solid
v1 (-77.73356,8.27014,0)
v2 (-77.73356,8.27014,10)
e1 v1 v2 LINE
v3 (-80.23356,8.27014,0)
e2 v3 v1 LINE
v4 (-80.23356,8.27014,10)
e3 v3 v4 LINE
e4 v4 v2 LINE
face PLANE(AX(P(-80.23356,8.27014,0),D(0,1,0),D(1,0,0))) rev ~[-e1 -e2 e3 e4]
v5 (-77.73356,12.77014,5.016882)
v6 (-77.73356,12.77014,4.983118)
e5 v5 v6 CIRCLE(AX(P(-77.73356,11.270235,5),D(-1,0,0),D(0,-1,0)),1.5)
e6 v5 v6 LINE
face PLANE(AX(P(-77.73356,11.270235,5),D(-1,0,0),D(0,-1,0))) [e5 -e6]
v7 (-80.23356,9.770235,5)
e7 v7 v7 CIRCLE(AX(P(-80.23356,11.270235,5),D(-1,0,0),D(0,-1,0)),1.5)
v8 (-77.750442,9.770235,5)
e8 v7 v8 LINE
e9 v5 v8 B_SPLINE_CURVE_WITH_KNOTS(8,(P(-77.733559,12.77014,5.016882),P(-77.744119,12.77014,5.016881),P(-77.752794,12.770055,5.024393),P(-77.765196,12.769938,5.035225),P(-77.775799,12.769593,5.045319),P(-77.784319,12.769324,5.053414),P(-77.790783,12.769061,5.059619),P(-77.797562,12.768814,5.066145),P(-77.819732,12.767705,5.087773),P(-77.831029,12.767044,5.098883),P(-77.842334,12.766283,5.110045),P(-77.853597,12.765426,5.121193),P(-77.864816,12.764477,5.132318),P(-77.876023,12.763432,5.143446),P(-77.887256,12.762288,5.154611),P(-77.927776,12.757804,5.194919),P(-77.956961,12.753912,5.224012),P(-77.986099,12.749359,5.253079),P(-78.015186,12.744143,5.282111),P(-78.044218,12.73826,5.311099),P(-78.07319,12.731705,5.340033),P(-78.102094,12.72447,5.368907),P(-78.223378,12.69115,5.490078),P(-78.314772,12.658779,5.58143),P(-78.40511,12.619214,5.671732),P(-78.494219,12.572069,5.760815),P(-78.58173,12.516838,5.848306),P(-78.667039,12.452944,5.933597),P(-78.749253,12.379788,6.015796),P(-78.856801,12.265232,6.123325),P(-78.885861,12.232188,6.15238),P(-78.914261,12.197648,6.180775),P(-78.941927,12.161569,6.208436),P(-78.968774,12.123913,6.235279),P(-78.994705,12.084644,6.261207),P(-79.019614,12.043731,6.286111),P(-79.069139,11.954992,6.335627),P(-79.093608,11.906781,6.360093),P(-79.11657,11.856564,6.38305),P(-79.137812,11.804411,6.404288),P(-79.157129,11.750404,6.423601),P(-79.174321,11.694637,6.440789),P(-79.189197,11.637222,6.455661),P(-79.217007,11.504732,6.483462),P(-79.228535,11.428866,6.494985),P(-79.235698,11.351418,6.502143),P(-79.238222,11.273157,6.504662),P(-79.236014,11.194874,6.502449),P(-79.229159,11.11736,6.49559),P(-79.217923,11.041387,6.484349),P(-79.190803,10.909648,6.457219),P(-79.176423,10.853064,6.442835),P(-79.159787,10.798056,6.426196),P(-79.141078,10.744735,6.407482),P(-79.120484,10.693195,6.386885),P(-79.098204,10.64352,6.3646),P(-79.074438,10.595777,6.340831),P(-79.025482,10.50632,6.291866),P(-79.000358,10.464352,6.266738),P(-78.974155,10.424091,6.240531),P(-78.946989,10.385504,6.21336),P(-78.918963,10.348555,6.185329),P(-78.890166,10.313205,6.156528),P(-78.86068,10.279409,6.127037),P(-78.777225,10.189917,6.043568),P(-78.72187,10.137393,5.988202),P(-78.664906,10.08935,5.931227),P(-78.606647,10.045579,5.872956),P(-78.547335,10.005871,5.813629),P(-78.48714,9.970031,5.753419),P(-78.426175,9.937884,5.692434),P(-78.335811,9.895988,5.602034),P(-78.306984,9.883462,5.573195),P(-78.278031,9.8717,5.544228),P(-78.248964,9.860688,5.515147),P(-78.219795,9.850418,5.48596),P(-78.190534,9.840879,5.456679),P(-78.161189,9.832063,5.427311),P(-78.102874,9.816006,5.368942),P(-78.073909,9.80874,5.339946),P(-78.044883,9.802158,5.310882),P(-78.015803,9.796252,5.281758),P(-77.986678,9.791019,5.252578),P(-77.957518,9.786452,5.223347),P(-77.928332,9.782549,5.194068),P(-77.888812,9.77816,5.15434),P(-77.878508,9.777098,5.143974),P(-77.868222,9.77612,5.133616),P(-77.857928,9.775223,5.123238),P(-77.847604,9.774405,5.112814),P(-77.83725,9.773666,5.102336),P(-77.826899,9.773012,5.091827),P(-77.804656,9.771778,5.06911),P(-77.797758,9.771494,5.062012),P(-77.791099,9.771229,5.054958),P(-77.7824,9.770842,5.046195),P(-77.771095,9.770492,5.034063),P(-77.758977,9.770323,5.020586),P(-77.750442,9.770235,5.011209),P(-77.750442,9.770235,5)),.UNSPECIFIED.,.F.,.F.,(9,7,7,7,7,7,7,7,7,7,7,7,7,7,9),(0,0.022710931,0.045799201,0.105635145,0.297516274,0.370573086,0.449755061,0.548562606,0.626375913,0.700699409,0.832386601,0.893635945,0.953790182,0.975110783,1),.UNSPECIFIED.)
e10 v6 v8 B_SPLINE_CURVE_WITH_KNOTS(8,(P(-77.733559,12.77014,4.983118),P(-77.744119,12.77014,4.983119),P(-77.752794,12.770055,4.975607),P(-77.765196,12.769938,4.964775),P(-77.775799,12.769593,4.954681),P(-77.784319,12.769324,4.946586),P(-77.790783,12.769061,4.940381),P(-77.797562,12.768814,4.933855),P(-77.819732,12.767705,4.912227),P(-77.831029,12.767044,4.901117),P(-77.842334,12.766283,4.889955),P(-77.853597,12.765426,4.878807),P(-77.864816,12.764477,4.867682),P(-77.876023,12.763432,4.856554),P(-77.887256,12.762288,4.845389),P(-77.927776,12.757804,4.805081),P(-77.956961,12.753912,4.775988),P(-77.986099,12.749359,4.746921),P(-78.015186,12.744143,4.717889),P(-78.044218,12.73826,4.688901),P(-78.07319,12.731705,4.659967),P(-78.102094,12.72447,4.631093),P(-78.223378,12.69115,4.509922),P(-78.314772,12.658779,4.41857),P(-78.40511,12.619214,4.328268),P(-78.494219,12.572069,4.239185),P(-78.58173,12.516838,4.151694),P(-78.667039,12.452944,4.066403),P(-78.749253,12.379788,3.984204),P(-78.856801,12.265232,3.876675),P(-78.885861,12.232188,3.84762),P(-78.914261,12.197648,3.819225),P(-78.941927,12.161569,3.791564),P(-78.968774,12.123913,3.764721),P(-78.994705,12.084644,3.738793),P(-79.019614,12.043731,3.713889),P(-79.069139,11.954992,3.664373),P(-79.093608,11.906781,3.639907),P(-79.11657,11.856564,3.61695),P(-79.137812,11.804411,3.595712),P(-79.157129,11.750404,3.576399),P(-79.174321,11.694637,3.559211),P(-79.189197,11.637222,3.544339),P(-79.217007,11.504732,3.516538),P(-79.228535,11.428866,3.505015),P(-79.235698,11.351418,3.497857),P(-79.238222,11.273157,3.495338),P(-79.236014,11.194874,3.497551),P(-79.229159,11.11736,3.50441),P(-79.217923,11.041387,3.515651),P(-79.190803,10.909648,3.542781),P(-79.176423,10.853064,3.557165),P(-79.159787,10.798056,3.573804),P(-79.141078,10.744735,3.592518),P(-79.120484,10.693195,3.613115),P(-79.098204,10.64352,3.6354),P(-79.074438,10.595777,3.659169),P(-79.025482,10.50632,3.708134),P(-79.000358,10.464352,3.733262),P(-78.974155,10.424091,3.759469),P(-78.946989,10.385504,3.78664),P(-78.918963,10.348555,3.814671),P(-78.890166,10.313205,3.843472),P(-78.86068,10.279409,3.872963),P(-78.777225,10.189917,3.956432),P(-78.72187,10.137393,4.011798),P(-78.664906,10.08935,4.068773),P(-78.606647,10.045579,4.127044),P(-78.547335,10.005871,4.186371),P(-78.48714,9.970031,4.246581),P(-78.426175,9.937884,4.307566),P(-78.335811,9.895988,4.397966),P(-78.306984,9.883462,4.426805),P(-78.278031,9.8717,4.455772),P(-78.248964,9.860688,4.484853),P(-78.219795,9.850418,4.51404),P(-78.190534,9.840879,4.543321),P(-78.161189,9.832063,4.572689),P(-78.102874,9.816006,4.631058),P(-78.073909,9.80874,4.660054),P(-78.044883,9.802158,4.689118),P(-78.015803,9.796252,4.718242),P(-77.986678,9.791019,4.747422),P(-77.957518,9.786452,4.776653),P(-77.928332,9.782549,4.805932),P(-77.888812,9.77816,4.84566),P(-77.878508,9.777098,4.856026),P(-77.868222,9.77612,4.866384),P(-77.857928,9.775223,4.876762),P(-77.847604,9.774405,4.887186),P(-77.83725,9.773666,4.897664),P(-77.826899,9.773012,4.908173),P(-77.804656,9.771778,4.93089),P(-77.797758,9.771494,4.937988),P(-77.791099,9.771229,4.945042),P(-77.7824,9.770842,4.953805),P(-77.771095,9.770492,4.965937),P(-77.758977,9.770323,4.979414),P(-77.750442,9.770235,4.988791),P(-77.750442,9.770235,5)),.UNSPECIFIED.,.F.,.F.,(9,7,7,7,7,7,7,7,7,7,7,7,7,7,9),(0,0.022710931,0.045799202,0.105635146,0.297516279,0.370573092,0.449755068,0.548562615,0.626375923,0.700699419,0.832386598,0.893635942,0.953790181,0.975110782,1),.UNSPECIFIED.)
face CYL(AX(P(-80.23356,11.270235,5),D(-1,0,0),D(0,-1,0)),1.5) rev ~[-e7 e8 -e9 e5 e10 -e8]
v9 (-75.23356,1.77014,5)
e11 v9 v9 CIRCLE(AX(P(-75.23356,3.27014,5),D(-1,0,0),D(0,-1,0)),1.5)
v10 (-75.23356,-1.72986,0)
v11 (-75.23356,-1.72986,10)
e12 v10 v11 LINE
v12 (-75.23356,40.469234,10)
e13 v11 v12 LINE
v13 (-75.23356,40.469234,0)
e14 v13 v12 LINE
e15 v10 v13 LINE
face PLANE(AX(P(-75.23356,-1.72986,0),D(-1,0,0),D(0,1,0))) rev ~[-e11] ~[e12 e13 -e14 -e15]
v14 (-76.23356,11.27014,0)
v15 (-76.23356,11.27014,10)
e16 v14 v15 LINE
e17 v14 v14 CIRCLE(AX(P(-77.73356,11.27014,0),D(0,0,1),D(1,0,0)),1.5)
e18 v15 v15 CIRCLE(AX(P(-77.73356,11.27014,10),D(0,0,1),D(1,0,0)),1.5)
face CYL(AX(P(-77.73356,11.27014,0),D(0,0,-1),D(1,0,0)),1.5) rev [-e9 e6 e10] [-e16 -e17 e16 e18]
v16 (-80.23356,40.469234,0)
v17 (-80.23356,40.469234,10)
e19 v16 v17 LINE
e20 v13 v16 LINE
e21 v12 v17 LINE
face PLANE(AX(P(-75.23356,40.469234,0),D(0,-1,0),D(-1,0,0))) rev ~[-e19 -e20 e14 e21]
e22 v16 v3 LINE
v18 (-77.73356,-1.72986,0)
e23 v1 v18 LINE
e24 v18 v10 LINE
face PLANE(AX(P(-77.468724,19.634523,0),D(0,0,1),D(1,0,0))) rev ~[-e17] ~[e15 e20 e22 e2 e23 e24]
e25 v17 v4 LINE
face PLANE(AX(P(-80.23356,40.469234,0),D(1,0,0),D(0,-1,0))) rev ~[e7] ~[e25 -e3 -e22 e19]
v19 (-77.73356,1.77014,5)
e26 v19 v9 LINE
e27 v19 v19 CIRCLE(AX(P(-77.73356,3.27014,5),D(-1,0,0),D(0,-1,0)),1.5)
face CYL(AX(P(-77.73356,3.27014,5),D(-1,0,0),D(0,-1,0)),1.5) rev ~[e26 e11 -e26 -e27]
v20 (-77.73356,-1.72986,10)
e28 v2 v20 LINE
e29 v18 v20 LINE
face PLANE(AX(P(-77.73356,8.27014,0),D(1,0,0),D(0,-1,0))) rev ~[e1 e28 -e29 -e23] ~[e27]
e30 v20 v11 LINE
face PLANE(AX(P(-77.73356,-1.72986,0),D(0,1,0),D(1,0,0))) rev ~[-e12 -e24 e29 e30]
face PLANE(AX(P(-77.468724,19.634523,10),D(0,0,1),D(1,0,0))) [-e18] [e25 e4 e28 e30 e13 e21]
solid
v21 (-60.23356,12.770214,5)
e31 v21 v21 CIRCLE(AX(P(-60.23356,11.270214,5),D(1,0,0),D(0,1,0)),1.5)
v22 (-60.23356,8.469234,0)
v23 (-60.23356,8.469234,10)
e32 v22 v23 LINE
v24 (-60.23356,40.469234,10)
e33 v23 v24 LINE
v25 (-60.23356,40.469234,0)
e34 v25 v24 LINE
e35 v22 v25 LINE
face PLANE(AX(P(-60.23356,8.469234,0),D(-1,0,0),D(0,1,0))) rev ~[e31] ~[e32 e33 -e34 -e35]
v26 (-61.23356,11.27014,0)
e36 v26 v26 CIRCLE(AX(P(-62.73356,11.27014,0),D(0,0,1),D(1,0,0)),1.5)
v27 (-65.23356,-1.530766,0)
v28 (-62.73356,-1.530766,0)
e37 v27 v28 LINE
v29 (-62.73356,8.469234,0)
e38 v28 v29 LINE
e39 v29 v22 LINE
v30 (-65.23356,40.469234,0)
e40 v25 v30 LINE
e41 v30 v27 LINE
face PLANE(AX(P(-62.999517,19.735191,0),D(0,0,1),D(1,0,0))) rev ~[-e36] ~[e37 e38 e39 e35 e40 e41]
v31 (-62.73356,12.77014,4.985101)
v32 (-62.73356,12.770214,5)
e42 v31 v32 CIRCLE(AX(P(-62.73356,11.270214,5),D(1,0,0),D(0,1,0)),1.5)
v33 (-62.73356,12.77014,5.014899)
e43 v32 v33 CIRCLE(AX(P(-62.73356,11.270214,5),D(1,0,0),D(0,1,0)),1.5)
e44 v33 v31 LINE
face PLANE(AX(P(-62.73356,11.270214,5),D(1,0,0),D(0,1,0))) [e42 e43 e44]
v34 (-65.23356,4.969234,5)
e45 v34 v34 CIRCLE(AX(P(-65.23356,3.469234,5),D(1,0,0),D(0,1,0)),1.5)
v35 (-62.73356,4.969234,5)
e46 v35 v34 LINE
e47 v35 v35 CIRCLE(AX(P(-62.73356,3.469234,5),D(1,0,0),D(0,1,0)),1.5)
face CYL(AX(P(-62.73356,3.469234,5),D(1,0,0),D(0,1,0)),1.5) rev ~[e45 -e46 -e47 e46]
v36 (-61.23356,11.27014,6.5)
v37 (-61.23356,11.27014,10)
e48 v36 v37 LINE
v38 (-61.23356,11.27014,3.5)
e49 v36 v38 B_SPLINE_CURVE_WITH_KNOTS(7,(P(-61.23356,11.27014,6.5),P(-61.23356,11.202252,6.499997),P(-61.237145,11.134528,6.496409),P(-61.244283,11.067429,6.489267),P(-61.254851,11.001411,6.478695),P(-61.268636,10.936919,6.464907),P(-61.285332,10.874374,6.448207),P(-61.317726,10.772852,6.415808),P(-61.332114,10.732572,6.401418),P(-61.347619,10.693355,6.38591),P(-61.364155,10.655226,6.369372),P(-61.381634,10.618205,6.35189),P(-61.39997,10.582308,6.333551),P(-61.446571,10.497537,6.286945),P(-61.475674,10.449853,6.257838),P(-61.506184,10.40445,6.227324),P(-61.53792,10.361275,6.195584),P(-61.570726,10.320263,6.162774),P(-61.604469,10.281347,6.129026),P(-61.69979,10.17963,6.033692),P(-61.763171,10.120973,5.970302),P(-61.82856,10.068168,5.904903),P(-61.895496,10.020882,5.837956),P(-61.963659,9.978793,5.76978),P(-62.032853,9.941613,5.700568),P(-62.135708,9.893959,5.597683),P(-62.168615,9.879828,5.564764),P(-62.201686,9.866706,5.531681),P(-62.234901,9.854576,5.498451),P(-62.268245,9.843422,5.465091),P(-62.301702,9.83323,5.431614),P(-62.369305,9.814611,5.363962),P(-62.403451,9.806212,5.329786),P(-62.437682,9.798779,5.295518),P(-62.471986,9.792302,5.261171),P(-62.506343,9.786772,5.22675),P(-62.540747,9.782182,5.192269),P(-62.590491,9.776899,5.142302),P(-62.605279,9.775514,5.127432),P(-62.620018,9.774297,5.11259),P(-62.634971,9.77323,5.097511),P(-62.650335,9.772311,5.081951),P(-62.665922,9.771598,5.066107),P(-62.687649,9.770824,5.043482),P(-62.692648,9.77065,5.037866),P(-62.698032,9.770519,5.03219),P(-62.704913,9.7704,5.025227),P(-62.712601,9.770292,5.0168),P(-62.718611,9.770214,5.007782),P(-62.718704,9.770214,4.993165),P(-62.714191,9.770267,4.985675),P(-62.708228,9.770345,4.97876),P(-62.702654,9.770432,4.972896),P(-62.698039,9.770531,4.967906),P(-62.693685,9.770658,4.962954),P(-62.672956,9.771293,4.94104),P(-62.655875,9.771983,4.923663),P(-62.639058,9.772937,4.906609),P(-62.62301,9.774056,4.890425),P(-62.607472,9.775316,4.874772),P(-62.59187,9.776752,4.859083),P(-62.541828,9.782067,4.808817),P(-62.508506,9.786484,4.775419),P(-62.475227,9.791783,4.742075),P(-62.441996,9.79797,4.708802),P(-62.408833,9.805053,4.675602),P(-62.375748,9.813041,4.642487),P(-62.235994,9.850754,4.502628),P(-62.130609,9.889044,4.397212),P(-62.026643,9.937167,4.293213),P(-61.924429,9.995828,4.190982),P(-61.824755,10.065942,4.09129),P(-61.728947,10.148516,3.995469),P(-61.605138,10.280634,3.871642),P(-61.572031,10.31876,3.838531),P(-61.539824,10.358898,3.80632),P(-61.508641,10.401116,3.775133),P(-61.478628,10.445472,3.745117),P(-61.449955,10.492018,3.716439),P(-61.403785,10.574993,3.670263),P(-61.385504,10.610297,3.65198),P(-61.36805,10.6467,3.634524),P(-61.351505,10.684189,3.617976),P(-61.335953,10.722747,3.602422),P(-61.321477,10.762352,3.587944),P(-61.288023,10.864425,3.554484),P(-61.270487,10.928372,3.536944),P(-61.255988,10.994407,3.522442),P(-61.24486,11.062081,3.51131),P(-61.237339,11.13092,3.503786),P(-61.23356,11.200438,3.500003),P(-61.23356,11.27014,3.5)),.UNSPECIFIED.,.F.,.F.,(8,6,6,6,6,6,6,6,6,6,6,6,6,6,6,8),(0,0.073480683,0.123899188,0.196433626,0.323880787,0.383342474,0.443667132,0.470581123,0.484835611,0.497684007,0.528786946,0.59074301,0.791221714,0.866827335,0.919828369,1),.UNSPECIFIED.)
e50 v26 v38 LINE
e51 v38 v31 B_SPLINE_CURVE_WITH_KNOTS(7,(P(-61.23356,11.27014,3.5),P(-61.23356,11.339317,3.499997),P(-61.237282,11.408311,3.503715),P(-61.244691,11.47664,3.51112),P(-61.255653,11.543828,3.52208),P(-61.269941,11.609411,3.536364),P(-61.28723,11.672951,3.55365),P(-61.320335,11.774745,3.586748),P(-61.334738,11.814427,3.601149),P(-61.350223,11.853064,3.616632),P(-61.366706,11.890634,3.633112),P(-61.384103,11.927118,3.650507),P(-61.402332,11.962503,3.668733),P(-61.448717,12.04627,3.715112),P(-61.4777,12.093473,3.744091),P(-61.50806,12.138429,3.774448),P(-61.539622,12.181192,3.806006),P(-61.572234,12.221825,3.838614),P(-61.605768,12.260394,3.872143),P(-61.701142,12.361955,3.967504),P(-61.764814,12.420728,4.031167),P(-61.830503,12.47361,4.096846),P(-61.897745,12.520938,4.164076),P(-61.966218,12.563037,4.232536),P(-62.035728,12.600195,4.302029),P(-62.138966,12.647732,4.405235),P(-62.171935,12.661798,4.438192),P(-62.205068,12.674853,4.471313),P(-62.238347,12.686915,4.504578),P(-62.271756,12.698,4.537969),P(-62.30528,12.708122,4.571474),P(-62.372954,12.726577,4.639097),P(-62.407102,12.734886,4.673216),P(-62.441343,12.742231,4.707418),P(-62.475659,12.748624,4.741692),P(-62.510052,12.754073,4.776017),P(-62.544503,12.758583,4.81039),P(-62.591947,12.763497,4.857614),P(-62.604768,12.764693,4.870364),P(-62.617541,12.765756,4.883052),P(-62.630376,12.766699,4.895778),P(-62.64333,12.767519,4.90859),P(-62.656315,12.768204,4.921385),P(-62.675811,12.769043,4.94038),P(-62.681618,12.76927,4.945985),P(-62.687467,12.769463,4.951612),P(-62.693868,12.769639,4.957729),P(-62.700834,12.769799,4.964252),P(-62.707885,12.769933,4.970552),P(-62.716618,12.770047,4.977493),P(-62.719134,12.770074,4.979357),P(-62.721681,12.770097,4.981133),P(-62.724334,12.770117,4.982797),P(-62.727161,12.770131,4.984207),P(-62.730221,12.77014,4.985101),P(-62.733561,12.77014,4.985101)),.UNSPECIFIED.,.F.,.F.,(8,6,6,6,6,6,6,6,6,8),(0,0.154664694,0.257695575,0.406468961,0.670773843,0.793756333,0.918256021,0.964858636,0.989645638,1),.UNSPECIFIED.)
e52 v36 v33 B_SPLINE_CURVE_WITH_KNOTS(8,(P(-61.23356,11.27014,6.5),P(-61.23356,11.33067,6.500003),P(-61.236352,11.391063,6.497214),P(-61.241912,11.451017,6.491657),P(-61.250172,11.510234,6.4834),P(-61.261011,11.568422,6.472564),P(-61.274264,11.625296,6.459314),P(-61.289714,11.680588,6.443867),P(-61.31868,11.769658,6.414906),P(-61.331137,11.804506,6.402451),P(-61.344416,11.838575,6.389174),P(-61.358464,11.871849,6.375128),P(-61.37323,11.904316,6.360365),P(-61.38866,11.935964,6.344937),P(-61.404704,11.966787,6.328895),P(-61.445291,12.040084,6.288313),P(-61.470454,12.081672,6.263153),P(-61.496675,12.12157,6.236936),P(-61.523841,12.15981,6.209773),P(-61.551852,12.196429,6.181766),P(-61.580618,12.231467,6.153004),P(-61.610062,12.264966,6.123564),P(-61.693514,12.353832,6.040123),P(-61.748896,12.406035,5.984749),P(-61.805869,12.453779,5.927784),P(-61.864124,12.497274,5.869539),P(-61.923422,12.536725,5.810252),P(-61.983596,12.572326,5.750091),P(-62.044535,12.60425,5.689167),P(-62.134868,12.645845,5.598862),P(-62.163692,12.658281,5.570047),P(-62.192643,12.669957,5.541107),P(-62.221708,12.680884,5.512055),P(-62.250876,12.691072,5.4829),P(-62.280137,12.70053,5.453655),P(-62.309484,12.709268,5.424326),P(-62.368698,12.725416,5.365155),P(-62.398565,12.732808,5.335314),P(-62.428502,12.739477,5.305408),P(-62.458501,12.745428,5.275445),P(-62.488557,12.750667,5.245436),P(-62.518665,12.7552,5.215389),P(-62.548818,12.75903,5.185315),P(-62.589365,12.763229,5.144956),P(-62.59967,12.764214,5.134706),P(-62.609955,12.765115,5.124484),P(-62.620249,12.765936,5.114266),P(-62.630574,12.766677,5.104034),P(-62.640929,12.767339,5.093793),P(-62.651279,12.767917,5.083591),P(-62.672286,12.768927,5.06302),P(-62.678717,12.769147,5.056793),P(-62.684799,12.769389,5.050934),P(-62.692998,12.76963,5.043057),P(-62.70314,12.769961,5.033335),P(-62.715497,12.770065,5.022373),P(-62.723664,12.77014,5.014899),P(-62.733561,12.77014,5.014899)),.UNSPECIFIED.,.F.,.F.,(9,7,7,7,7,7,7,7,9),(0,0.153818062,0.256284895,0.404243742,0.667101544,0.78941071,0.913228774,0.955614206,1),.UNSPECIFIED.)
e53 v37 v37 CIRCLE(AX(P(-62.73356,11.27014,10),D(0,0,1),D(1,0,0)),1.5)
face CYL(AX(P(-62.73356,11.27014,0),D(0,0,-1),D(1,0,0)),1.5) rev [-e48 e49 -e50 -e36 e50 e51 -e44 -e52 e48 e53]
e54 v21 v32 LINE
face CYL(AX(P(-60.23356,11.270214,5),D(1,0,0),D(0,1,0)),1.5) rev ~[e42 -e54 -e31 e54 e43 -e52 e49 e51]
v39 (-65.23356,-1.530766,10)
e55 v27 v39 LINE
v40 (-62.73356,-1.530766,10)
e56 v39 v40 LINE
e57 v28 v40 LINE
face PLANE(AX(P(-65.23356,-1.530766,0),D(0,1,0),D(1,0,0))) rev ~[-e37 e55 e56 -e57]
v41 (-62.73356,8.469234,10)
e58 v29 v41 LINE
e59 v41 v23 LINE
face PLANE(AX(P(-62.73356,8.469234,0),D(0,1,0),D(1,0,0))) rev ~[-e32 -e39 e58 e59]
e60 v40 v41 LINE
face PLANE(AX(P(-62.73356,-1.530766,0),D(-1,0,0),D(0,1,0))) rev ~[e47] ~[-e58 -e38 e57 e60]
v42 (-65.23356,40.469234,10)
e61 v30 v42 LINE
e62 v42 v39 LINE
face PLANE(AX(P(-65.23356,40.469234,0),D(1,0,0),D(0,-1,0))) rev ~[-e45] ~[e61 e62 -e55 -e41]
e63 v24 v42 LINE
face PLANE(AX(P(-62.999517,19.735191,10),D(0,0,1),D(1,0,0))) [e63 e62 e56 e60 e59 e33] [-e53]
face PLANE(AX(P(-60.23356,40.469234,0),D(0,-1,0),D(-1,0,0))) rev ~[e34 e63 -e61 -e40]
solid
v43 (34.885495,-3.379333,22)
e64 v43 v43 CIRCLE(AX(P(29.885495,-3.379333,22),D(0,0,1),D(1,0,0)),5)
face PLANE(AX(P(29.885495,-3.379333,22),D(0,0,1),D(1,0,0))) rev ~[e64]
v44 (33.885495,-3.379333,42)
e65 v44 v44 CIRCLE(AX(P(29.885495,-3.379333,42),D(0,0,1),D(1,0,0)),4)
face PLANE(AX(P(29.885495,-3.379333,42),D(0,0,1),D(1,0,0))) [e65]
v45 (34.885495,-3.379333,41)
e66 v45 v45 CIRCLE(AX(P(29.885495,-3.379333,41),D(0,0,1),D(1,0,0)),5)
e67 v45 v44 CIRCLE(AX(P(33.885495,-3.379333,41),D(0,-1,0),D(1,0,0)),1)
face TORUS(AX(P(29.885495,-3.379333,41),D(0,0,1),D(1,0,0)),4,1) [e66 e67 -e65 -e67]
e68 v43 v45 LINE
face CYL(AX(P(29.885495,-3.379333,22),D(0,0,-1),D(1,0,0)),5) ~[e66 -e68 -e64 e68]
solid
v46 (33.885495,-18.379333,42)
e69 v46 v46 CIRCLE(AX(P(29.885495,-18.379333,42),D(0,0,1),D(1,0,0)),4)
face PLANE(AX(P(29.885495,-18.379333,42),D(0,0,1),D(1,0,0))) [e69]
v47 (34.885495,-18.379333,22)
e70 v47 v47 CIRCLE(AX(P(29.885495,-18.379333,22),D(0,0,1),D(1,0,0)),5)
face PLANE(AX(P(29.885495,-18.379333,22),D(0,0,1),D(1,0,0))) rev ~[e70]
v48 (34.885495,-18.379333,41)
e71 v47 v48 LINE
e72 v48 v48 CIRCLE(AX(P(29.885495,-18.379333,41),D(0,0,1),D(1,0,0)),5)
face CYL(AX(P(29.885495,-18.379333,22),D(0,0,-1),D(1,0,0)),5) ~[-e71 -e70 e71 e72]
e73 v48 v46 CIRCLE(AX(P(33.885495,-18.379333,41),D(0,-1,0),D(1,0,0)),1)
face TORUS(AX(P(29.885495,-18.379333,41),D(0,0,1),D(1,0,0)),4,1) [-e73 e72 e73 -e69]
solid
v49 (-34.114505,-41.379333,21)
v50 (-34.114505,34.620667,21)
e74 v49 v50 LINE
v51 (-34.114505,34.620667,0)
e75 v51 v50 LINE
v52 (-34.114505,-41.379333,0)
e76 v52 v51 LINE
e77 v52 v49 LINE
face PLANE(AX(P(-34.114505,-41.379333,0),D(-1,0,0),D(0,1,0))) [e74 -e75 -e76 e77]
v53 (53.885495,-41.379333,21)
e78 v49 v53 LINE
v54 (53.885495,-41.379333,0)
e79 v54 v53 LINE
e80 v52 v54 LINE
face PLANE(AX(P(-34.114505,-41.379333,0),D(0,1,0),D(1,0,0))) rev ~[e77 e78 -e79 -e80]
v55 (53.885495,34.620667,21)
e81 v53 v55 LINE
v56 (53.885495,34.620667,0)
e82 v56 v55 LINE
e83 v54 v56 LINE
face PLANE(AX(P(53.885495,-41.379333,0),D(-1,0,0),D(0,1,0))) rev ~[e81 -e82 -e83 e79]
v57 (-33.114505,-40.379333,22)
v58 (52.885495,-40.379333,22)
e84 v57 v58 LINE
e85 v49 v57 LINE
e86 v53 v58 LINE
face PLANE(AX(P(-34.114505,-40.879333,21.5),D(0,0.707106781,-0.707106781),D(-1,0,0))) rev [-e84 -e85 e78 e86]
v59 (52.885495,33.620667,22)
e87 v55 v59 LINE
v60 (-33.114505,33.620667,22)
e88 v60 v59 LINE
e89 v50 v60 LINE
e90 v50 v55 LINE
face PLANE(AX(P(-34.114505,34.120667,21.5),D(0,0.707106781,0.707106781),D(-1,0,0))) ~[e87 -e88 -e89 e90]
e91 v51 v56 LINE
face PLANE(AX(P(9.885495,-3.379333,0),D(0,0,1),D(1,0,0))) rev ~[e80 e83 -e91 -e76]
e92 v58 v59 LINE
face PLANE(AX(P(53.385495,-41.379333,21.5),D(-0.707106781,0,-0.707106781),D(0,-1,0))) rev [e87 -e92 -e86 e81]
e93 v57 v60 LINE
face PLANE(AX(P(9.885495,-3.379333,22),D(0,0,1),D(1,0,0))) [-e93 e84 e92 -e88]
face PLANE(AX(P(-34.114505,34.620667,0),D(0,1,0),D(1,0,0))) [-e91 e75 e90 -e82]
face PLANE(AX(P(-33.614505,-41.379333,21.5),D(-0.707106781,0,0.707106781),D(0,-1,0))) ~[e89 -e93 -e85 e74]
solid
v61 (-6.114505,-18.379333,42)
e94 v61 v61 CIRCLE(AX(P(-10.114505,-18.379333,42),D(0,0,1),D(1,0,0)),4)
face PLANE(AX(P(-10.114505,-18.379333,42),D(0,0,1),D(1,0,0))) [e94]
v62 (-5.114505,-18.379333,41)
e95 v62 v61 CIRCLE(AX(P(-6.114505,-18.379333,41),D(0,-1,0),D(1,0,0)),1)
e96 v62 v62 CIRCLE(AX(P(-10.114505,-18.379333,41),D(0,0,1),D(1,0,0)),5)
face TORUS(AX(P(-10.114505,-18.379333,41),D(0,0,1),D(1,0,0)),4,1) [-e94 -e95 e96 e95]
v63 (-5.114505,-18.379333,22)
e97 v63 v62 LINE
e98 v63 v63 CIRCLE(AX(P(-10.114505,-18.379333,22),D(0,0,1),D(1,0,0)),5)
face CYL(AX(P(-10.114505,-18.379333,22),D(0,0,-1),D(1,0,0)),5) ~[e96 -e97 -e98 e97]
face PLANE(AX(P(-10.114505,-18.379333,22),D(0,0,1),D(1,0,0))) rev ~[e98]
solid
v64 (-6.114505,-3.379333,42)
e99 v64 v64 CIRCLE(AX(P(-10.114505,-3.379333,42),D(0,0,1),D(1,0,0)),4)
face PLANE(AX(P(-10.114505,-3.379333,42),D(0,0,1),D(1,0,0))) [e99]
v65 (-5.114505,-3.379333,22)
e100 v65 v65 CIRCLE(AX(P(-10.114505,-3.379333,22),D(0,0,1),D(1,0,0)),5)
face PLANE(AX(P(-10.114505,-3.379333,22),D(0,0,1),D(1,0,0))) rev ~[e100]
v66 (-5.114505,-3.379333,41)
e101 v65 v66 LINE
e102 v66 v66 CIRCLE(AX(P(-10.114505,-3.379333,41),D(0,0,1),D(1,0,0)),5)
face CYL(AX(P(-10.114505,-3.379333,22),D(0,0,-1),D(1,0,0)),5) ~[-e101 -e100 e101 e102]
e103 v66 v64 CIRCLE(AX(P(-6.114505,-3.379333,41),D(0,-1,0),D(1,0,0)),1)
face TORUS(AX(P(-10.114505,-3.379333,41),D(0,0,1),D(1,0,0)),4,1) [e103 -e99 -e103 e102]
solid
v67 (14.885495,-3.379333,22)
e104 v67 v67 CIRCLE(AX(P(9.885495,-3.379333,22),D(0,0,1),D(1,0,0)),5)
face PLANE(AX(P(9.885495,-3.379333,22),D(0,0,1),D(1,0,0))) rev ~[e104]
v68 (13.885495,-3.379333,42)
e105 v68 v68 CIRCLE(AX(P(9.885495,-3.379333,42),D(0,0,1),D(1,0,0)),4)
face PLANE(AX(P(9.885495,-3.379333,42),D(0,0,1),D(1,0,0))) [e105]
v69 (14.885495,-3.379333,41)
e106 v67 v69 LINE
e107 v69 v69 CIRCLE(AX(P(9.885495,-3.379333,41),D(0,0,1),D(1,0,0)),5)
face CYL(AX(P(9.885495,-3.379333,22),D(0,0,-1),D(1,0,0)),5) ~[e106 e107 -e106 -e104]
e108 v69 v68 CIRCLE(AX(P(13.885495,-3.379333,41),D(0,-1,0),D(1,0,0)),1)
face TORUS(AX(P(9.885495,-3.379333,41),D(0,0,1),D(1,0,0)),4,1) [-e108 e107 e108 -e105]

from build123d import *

# Parameters (mm, degrees)
F0_W      = 88
F0_H      = 76
F1_DEPTH  = 22
F2_SIZE   = 1
F3_R      = 5
F4_DEPTH  = 20
F5_R      = 1
F6_R      = 1.5
F7_DEPTH  = 10
F8_R      = 1.5
F9_DEPTH  = 2.5
F10_R     = 1.5
F11_DEPTH = 2.5
F12_R     = 1.5
F13_DEPTH = 2.5
F14_R     = 1.5
F15_DEPTH = 2.5


with BuildPart() as f1:
    # F0 (on Top) → F1 (new body)
    with BuildSketch(Plane.XY):
        with Locations((9.885495, -3.379333)):
            Rectangle(F0_W, F0_H)
    extrude(amount=F1_DEPTH)

    # F2
    f2_edges = [f1.edges().sort_by_distance(p)[0] for p in [
        (9.885495, -41.379333, 22),
        (-34.114505, -3.379333, 22),
        (9.885495, 34.620667, 22),
        (53.885495, -3.379333, 22),
    ]]
    chamfer(f2_edges, length=F2_SIZE)


with BuildPart() as f4:
    # F3 (on face) → F4 (new body)
    with BuildSketch(Plane.XY.offset(22)):
        with Locations((-10.114505, -3.379333)):
            Circle(F3_R)
        with Locations((9.885495, -3.379333)):
            Circle(F3_R)
        with Locations((29.885495, -3.379333)):
            Circle(F3_R)
        with Locations((29.885495, -18.379333)):
            Circle(F3_R)
        with Locations((-10.114505, -18.379333)):
            Circle(F3_R)
    extrude(amount=F4_DEPTH)

    # F5
    f5_edges = [f4.edges().sort_by_distance(p)[0] for p in [
        (-15.114505, -3.379333, 42),
        (-15.114505, -18.379333, 42),
        (4.885495, -3.379333, 42),
        (24.885495, -3.379333, 42),
        (24.885495, -18.379333, 42),
    ]]
    fillet(f5_edges, radius=F5_R)


with BuildPart() as f7:
    # F6 (on Top) → F7 (new body)
    with BuildSketch(Plane.XY):
        Polygon((-60.23356, 40.469234), (-65.23356, 40.469234), (-65.23356, -1.530766), (-62.73356, -1.530766), (-62.73356, 8.469234), (-60.23356, 8.469234), align=None)
        with Locations((-62.73356, 11.27014)):
            Circle(F6_R, mode=Mode.SUBTRACT)
        Polygon((-75.23356, 40.469234), (-80.23356, 40.469234), (-80.23356, 8.27014), (-77.73356, 8.27014), (-77.73356, -1.72986), (-75.23356, -1.72986), align=None)
        with Locations((-77.73356, 11.27014)):
            Circle(F6_R, mode=Mode.SUBTRACT)
    extrude(amount=F7_DEPTH)

    # F8 (on face) → F9 (cut)
    with BuildSketch(Plane(origin=(-80.23356, 0, 0), x_dir=(0, -1, 0), z_dir=(-1, 0, 0))):
        with Locations((-11.270235, 5)):
            Circle(F8_R)
    extrude(amount=-F9_DEPTH, mode=Mode.SUBTRACT)

    # F10 (on face) → F11 (cut)
    with BuildSketch(Plane(origin=(-77.73356, 0, 0), x_dir=(0, -1, 0), z_dir=(-1, 0, 0))):
        with Locations((-3.27014, 5)):
            Circle(F10_R)
    extrude(amount=-F11_DEPTH, mode=Mode.SUBTRACT)

    # F12 (on face) → F13 (cut)
    with BuildSketch(Plane.YZ.offset(-60.23356)):
        with Locations((11.270214, 5)):
            Circle(F12_R)
    extrude(amount=-F13_DEPTH, mode=Mode.SUBTRACT)

    # F14 (on face) → F15 (cut)
    with BuildSketch(Plane.YZ.offset(-62.73356)):
        with Locations((3.469234, 5)):
            Circle(F14_R)
    extrude(amount=-F15_DEPTH, mode=Mode.SUBTRACT)


solid = Compound([f1.part, f4.part, f7.part])
